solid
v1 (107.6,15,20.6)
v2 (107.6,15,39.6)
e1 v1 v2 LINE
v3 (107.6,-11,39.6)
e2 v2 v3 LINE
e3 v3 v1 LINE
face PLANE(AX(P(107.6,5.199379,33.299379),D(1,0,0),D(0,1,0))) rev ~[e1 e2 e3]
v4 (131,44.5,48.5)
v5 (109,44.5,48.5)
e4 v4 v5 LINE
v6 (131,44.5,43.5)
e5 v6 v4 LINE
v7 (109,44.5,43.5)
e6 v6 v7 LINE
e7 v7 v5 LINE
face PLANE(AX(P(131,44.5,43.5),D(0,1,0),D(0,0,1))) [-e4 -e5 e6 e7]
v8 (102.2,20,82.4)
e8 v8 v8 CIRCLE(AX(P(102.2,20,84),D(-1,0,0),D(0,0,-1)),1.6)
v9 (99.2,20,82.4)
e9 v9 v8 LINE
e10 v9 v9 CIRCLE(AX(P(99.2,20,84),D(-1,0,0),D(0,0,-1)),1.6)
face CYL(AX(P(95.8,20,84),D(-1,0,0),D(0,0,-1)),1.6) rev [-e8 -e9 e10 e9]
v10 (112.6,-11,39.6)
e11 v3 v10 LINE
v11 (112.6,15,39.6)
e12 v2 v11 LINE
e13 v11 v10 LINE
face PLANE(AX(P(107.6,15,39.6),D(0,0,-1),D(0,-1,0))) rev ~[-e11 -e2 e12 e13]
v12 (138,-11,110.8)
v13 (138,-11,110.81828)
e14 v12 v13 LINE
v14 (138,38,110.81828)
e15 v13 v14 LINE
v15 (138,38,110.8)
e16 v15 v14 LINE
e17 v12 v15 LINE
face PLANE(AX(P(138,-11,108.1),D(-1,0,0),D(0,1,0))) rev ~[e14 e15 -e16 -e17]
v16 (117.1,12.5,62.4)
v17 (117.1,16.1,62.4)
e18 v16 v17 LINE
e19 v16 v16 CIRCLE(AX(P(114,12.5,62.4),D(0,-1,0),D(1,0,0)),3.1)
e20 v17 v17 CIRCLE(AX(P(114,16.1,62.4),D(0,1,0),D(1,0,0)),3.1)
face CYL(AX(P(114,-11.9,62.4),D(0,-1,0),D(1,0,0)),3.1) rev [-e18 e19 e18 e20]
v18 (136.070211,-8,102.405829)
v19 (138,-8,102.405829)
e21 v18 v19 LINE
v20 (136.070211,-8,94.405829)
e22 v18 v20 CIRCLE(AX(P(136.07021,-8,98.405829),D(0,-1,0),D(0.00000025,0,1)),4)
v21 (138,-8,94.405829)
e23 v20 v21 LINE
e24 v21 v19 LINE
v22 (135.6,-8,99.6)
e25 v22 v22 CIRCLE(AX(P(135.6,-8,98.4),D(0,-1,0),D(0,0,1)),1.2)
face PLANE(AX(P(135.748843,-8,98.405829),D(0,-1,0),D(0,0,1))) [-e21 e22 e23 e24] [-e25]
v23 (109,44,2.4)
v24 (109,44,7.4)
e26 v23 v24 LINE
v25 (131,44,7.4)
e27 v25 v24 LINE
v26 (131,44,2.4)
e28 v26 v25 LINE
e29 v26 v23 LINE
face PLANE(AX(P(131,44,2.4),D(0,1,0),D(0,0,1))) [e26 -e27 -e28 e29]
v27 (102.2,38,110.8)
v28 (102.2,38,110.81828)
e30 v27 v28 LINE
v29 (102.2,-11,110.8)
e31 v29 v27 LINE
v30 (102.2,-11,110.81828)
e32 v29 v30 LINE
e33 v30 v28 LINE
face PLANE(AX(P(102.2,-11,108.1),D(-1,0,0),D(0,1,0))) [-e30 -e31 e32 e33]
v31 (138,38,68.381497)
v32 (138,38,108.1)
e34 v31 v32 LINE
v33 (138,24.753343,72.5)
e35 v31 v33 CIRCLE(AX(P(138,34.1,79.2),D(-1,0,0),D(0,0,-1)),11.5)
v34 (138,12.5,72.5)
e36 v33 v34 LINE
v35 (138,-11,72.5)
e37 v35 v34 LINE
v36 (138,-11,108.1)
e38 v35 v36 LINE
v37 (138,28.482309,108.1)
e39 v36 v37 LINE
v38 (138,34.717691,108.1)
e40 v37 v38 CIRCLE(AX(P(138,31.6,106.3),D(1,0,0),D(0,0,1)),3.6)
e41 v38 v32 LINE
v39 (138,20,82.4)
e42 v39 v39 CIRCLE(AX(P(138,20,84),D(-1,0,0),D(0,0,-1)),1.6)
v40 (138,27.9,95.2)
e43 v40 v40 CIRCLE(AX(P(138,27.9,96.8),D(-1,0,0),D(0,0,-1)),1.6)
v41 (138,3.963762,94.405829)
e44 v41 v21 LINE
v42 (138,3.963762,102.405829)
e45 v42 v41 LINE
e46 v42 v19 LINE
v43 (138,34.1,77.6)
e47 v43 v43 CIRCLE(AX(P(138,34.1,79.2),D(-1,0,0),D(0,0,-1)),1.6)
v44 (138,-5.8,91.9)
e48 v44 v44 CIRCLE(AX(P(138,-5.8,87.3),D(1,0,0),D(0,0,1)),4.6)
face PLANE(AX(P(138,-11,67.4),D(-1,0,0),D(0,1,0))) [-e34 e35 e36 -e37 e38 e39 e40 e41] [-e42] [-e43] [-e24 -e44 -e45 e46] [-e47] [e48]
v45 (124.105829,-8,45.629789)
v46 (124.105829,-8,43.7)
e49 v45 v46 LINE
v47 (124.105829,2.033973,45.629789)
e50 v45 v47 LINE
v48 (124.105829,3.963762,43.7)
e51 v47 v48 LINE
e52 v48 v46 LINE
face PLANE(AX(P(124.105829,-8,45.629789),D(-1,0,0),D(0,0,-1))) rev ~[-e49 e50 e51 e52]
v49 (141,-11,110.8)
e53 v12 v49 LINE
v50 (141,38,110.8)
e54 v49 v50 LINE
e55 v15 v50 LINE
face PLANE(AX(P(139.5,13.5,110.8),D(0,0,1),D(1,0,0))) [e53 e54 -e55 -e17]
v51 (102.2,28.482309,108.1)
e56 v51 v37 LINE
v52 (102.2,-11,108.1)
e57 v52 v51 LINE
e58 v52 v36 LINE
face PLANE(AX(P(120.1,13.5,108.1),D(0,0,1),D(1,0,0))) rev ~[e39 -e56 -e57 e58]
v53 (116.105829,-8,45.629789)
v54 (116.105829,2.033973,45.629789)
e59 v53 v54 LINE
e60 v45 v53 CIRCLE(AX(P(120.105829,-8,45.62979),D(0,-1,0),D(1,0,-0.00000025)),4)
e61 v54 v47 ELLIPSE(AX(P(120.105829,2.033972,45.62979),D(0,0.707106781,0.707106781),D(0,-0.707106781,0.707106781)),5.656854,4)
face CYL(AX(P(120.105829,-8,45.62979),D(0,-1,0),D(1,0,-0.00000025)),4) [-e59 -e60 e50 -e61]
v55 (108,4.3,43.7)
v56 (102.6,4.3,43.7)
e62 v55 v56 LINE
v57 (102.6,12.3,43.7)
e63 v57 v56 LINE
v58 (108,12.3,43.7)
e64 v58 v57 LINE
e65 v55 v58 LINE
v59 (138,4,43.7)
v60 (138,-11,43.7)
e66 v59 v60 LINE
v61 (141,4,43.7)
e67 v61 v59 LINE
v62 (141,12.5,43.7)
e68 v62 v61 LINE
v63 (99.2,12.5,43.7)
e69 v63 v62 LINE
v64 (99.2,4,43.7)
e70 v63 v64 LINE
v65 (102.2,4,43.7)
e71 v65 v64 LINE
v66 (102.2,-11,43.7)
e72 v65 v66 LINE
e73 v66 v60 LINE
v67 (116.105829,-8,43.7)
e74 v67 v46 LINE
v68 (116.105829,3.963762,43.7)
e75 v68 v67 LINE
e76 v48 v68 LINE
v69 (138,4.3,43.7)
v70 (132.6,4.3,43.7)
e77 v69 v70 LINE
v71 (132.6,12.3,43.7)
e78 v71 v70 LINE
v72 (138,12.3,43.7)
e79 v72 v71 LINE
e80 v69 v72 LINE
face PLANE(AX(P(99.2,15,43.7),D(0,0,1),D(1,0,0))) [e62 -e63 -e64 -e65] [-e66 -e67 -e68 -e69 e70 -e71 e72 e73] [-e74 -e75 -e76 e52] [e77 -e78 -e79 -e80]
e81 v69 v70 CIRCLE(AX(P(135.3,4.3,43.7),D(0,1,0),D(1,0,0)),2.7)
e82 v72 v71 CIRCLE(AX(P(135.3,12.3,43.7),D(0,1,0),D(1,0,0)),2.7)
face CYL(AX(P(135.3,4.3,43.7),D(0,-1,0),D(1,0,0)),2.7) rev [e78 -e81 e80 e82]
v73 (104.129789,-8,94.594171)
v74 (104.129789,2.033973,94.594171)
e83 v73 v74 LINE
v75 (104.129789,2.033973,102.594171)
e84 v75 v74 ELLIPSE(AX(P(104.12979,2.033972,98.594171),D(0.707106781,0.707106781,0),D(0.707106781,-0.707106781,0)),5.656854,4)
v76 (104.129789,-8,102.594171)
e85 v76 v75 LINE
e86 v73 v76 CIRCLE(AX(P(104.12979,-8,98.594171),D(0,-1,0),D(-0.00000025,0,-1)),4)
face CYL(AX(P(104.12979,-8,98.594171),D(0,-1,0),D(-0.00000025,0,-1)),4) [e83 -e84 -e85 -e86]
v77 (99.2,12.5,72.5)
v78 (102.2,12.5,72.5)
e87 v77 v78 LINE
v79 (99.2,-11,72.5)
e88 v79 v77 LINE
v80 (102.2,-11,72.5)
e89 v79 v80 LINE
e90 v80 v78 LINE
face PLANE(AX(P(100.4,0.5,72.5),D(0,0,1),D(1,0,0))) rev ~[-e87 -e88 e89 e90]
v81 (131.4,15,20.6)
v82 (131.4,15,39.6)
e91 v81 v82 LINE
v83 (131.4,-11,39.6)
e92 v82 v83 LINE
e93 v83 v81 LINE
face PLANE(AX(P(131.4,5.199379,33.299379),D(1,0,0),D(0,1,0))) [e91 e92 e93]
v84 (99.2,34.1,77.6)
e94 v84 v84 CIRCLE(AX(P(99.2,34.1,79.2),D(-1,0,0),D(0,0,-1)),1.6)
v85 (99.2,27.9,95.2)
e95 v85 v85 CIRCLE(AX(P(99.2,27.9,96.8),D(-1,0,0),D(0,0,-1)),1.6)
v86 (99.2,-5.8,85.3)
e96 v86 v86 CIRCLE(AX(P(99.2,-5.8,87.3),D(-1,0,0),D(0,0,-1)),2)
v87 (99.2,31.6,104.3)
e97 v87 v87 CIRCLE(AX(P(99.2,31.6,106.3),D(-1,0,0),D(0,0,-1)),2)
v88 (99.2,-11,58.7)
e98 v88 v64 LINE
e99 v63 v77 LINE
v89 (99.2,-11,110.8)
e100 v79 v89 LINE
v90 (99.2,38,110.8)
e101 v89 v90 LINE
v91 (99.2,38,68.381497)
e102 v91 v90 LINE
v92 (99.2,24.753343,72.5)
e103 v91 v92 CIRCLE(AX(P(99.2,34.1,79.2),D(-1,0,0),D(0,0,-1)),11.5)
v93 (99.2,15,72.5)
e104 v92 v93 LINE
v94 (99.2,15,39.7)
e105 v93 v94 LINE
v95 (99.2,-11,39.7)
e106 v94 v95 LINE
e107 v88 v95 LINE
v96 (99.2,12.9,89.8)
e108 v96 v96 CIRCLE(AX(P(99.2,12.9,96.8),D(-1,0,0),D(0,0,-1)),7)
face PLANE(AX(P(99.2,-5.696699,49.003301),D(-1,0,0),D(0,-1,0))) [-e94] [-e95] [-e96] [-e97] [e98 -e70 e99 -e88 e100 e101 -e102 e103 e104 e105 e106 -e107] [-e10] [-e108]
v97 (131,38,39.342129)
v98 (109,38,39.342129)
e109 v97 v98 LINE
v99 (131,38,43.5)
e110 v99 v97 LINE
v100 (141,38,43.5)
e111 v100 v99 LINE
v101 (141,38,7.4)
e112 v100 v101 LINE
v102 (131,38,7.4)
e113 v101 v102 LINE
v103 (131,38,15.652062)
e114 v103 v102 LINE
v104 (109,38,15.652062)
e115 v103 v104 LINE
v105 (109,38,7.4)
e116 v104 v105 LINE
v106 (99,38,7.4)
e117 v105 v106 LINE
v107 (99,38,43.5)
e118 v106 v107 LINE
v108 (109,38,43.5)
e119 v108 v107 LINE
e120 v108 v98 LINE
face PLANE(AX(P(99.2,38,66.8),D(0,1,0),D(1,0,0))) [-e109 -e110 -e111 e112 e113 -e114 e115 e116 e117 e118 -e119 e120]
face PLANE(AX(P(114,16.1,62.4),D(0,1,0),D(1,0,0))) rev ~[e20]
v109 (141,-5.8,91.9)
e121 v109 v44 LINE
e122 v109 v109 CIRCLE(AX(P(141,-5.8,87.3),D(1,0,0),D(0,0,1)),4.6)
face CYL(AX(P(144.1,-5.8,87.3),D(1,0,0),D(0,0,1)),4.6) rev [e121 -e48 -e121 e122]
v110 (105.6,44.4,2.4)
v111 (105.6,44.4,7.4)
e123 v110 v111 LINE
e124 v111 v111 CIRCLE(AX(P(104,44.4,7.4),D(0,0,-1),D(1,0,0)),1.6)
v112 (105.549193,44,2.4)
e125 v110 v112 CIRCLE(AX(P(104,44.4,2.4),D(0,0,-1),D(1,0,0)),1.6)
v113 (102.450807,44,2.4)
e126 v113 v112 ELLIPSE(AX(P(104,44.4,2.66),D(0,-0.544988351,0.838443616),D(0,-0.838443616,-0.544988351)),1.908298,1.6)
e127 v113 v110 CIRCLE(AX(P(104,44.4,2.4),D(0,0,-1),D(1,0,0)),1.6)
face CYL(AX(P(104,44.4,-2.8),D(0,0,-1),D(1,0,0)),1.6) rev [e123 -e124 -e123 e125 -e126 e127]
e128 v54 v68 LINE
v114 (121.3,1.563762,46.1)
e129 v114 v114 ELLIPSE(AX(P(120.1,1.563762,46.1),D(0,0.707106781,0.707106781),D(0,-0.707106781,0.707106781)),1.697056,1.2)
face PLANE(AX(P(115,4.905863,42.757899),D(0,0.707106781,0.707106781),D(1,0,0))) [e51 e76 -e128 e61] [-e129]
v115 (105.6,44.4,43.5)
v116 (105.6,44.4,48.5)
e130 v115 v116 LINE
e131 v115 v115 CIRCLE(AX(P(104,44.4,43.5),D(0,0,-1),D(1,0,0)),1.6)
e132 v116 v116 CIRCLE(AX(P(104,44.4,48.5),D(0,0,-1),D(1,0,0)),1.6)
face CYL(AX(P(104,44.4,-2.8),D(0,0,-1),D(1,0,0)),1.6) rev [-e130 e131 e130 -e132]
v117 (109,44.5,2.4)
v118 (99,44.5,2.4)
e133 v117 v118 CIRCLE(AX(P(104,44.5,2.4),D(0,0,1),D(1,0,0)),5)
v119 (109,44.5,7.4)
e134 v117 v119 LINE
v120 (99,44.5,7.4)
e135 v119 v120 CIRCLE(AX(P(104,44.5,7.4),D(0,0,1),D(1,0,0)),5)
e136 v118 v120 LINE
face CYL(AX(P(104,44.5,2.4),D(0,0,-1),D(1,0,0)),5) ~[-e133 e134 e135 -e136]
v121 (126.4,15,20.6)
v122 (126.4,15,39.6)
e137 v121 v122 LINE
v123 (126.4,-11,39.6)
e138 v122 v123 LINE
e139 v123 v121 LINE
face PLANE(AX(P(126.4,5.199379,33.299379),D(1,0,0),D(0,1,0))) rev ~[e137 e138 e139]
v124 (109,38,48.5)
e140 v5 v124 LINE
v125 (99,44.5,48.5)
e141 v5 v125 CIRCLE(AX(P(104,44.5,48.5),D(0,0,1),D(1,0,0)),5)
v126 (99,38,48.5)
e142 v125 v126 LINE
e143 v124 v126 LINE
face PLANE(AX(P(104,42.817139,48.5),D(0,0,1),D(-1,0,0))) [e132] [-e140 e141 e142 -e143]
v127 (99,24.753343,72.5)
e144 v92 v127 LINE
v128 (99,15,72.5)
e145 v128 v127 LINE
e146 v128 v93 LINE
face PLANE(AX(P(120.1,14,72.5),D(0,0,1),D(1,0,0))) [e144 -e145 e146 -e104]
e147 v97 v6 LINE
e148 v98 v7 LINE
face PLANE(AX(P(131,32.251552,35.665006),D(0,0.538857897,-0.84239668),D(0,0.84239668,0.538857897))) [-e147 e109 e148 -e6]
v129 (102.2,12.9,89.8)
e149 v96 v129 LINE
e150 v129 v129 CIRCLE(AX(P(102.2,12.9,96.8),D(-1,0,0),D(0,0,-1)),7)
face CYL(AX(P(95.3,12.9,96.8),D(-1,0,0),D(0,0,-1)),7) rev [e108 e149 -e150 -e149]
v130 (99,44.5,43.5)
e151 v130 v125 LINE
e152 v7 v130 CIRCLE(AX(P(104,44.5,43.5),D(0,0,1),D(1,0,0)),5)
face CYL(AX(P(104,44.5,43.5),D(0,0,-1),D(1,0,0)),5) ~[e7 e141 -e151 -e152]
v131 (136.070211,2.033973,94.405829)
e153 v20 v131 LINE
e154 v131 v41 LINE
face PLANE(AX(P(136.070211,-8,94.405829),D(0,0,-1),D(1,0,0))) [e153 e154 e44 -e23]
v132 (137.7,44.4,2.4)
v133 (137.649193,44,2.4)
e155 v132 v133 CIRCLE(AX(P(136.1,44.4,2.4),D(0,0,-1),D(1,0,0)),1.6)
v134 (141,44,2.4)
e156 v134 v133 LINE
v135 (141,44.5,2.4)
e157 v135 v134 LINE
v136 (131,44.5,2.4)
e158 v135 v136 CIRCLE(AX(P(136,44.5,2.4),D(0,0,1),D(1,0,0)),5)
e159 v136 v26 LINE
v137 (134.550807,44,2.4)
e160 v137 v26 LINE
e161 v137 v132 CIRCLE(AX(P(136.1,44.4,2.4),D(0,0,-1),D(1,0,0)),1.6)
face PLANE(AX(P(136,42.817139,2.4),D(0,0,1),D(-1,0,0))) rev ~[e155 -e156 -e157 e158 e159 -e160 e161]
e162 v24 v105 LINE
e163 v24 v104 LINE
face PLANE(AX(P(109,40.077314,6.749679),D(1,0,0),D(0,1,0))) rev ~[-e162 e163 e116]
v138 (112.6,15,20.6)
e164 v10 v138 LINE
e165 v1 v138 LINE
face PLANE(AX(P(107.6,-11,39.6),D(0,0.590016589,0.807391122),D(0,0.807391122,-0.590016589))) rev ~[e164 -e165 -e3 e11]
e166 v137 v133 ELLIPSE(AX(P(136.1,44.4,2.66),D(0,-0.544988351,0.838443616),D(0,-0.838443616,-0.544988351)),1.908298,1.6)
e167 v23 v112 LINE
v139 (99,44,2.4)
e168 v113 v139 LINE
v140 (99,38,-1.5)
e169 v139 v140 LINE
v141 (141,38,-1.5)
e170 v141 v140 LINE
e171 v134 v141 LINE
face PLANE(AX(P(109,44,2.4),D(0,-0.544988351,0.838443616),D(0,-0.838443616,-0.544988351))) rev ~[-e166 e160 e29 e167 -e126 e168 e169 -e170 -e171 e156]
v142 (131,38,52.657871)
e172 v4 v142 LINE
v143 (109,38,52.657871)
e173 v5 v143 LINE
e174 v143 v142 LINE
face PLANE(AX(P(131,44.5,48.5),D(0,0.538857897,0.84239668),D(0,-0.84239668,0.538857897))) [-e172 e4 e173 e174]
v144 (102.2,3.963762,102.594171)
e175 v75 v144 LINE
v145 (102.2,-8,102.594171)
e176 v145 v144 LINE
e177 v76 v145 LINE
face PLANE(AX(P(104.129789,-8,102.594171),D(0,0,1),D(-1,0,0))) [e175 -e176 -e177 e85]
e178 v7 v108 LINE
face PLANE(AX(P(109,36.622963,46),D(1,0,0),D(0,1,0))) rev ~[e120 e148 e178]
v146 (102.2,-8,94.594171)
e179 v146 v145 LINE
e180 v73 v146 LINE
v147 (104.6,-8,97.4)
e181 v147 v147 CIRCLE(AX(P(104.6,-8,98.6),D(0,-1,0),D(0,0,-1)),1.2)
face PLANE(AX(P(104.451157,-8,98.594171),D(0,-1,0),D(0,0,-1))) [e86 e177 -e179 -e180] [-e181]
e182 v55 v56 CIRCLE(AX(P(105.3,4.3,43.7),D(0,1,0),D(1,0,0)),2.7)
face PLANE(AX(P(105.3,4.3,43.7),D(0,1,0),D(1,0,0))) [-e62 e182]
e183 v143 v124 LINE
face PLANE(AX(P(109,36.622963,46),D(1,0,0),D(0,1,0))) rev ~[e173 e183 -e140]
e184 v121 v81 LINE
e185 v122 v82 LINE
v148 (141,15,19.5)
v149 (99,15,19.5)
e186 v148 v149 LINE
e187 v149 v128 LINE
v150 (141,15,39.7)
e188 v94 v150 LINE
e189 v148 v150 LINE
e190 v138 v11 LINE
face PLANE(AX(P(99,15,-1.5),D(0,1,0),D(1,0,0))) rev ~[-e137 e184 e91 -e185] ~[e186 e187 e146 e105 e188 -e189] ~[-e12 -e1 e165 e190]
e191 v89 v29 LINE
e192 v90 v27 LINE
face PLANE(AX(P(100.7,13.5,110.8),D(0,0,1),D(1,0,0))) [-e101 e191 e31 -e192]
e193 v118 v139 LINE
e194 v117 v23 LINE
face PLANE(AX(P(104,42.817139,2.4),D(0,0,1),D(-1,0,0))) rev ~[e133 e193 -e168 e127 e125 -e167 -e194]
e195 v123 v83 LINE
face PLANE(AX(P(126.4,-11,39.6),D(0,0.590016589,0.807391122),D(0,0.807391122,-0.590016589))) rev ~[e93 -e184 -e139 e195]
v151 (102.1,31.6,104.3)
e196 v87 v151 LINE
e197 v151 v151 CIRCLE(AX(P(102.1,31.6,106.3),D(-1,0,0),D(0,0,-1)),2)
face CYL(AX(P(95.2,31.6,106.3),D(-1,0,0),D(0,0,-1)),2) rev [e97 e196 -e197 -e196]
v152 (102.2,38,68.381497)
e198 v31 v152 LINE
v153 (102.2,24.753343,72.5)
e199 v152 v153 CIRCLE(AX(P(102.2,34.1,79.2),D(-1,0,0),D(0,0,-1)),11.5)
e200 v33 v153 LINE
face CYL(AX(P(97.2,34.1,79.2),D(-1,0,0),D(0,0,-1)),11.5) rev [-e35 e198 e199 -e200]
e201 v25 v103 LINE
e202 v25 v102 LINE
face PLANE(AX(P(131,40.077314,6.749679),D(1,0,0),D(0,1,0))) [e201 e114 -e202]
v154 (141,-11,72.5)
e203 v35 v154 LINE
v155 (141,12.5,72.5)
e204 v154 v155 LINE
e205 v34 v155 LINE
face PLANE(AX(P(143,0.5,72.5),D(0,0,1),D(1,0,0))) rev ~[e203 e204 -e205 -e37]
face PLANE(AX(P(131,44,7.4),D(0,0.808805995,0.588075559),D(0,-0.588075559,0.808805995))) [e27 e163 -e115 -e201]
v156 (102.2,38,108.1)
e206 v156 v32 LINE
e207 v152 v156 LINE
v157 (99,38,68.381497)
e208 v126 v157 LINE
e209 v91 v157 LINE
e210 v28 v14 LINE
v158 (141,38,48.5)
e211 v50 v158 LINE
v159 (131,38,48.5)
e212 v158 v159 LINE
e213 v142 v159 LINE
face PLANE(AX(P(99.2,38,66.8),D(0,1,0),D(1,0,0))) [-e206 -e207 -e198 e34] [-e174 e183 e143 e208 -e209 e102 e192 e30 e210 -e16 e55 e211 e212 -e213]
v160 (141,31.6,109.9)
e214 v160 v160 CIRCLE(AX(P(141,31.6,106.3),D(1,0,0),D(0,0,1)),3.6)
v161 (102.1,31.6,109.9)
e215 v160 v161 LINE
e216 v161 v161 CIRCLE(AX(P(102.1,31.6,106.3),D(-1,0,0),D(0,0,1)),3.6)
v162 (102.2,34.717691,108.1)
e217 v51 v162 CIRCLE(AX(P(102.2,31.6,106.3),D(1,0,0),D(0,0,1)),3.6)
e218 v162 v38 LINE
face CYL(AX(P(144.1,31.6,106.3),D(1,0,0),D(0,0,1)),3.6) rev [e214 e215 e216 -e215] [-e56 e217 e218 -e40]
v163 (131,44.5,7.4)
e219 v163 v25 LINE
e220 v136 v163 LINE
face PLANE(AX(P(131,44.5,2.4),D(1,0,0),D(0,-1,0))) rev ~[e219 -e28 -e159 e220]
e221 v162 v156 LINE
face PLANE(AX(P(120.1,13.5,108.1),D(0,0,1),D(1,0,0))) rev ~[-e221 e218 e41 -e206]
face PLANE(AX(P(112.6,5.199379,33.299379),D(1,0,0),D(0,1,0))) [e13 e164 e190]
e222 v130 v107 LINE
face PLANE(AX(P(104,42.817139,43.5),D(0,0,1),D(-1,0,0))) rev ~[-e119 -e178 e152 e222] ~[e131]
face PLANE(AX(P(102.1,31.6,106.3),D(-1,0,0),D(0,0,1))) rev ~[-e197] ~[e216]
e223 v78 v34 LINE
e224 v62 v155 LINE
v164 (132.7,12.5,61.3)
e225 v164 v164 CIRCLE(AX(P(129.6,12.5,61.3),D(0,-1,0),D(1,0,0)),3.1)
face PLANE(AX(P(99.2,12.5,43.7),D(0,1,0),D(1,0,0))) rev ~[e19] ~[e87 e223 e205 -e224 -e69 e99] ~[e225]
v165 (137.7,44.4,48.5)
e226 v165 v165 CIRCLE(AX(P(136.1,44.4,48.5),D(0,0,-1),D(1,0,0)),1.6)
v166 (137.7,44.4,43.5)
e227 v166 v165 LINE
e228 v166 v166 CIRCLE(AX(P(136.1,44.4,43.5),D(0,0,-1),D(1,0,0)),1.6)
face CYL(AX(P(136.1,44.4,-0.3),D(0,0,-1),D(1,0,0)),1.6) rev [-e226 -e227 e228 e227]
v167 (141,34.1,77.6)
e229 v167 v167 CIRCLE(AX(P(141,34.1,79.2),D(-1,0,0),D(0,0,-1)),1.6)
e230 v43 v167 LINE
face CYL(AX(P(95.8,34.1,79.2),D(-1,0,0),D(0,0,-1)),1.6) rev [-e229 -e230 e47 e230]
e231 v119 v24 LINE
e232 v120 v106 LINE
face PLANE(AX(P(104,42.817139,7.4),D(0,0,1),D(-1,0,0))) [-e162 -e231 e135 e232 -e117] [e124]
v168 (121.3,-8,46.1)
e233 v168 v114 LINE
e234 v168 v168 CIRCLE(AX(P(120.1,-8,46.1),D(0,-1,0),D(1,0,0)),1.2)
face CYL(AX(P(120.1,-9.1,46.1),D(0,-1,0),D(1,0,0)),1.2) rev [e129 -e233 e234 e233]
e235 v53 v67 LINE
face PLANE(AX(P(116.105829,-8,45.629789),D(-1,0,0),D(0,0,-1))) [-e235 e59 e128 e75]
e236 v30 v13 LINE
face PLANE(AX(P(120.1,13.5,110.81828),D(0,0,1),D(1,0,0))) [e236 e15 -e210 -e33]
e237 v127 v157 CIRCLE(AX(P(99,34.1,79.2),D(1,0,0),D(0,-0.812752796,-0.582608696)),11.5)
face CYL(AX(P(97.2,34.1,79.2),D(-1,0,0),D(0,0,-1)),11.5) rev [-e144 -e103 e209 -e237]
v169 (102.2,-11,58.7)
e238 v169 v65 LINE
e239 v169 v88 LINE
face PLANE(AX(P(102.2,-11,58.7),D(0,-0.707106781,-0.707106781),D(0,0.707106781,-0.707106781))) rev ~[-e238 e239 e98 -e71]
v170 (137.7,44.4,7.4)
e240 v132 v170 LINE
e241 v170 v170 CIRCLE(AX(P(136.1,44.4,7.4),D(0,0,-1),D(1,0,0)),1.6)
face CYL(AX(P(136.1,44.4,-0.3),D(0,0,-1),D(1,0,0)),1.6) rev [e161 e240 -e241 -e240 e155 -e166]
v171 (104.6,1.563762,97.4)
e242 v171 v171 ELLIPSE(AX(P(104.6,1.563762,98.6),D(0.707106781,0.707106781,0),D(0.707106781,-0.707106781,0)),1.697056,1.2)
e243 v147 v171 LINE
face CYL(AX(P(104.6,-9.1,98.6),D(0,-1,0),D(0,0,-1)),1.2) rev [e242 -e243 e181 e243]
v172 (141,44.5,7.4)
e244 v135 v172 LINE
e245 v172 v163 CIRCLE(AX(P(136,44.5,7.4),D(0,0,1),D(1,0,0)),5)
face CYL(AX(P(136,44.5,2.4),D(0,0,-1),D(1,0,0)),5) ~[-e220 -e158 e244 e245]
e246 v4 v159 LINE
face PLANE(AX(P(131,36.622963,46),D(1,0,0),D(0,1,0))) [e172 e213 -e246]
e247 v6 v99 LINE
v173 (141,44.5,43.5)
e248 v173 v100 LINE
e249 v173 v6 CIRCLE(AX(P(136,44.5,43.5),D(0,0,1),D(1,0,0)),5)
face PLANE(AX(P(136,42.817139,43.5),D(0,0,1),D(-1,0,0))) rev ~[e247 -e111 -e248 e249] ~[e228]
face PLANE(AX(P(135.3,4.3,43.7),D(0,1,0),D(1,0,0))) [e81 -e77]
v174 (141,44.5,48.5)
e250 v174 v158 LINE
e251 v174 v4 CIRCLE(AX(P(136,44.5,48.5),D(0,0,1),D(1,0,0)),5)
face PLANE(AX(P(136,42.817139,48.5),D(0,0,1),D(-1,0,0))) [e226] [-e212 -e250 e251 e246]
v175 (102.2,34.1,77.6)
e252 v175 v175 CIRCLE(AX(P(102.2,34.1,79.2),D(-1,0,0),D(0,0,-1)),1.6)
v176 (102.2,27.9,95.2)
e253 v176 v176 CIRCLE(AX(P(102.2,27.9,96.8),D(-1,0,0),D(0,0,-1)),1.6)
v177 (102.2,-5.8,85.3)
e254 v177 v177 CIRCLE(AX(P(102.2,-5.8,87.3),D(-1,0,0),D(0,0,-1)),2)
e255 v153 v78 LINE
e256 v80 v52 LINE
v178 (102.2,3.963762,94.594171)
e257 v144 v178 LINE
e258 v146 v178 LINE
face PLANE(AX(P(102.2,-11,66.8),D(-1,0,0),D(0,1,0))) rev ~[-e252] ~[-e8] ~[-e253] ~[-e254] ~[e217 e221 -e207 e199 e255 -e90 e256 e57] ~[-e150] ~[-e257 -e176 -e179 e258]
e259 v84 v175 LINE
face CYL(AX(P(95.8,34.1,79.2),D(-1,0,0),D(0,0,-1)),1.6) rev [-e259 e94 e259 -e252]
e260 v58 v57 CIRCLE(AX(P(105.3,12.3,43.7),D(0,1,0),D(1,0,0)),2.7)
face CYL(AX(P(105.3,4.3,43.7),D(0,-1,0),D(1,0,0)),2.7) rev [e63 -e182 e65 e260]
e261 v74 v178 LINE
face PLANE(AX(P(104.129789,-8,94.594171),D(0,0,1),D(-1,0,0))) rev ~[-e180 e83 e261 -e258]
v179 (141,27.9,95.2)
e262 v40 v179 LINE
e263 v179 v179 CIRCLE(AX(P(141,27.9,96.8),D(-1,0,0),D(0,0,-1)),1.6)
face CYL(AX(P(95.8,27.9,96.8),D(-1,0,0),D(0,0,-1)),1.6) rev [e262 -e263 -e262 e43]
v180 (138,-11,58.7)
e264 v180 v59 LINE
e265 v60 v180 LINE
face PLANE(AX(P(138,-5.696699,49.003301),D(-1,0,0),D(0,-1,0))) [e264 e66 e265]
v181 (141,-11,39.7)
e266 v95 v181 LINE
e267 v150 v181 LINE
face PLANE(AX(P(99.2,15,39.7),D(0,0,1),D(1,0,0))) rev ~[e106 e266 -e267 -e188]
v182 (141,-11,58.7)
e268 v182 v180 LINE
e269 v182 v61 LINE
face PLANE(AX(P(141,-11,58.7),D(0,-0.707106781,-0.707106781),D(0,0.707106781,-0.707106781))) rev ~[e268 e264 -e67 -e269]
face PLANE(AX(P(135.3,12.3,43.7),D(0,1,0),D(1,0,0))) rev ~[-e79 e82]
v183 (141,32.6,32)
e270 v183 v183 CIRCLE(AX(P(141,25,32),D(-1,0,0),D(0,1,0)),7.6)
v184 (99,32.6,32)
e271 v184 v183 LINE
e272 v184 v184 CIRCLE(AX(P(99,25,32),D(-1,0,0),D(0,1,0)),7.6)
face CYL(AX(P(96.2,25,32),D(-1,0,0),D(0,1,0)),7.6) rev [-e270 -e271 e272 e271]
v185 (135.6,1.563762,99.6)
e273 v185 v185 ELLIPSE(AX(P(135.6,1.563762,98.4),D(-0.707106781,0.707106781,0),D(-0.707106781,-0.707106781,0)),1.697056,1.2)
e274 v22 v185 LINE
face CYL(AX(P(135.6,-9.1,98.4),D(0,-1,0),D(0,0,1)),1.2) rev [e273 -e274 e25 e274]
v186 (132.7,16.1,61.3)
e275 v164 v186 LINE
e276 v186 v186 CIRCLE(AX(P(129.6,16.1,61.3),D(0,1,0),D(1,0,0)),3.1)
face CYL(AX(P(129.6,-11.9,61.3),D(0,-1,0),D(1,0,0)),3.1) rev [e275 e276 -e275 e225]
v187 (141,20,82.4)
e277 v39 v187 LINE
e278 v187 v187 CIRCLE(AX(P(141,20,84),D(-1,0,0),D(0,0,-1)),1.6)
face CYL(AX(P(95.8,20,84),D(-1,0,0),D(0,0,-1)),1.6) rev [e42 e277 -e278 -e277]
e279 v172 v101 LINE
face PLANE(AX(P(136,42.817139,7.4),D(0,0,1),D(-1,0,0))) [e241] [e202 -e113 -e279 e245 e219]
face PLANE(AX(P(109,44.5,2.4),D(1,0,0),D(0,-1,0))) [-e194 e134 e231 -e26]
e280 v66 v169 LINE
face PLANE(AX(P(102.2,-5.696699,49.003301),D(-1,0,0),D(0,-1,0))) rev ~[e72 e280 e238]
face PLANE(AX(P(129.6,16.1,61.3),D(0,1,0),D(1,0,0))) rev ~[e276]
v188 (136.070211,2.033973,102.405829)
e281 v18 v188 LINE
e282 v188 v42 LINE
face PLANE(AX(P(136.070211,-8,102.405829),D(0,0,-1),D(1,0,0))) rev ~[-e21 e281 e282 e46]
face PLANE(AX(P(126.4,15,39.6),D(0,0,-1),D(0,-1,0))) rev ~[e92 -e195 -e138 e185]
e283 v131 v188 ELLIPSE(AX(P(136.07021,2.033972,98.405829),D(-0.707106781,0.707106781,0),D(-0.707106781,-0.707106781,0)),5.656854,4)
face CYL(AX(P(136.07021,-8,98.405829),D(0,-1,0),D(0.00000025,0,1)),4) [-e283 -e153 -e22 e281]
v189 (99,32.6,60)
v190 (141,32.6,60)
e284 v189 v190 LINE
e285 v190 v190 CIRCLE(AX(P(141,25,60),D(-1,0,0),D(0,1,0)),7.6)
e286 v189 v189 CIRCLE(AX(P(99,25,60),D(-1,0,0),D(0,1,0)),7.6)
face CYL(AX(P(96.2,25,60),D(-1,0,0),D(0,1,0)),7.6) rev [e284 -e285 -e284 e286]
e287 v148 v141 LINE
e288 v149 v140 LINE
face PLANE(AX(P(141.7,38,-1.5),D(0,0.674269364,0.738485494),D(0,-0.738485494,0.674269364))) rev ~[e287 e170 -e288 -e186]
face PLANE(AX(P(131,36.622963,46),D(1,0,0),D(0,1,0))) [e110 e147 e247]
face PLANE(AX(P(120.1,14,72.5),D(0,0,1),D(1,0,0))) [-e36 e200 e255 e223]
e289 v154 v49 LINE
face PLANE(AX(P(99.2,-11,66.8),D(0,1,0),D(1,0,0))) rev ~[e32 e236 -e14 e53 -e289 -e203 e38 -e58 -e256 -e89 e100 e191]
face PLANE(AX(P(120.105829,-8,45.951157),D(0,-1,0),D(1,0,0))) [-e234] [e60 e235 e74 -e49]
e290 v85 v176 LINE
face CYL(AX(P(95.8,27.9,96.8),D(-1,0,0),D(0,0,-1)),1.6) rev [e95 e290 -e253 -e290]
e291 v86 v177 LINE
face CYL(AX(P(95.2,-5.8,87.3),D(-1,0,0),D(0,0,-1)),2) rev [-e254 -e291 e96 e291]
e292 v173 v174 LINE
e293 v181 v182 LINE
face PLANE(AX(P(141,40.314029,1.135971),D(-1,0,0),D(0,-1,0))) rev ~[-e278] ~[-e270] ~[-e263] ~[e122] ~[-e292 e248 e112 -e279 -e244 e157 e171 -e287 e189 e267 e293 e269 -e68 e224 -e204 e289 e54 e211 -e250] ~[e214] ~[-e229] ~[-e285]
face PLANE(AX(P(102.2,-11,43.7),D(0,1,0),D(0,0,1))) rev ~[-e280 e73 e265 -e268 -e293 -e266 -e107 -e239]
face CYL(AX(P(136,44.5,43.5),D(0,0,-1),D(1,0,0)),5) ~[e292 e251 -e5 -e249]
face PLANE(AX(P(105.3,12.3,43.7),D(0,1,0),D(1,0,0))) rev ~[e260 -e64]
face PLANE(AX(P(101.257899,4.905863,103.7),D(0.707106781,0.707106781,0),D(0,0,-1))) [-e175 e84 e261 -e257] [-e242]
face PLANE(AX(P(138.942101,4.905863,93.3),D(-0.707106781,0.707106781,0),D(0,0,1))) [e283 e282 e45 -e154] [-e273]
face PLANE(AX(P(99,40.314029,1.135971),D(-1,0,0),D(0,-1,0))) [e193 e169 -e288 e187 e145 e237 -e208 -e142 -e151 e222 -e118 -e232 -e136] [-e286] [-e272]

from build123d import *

# Parameters (mm, degrees)
CYLINDER168_R              = 1.6
CYLINDER168_DEPTH          = 90
CYLINDER167_R              = 1.6
CYLINDER167_DEPTH          = 90
CYLINDER109_R              = 7.6
CYLINDER109_DEPTH          = 45
CYLINDER182_R              = 3.1
CYLINDER182_DEPTH          = 28
CYLINDER203_R              = 3.1
CYLINDER203_DEPTH          = 28
CYLINDER213_R              = 4.6
CYLINDER213_DEPTH          = 10
CYLINDER184_R              = 3.6
CYLINDER184_DEPTH          = 42
CYLINDER212_R              = 7
CYLINDER212_DEPTH          = 10
CYLINDER211_R              = 2
CYLINDER211_DEPTH          = 10
CYLINDER210_R              = 2
CYLINDER210_DEPTH          = 10
CYLINDER209_R              = 1.6
CYLINDER209_DEPTH          = 53
CYLINDER196_R              = 1.6
CYLINDER196_DEPTH          = 53
CYLINDER198_R              = 1.6
CYLINDER198_DEPTH          = 53
CYLINDER110_R              = 7.6
CYLINDER110_DEPTH          = 45
CYLINDER204_R              = 1.2
CYLINDER204_DEPTH          = 15
BOX086_W                   = 10
BOX086_H                   = 10
BOX086_DEPTH               = 10
BOX086_PLACEMENT_ANGLE     = 45
EXTRUDE079_DEPTH           = 12
CUT241_PLACEMENT_ANGLE     = 90
CYLINDER206_R              = 1.2
CYLINDER206_DEPTH          = 15
BOX088_W                   = 10
BOX088_H                   = 10
BOX088_DEPTH               = 10
BOX088_PLACEMENT_ANGLE     = 45
EXTRUDE081_DEPTH           = 12
CUT245_PLACEMENT_ANGLE     = 90
CYLINDER205_R              = 1.2
CYLINDER205_DEPTH          = 15
BOX087_W                   = 10
BOX087_H                   = 10
BOX087_DEPTH               = 10
BOX087_PLACEMENT_ANGLE     = 45
EXTRUDE080_DEPTH           = 12
CYLINDER200_R              = 2.7
CYLINDER200_DEPTH          = 8
CYLINDER108_R              = 2.7
CYLINDER108_DEPTH          = 8
EXTRUDE069_DEPTH           = 5
EXTRUDE069_PLACEMENT_ANGLE = 180
EXTRUDE078_DEPTH           = 22
EXTRUDE071_DEPTH           = 5
EXTRUDE071_PLACEMENT_ANGLE = 180
EXTRUDE068_DEPTH           = 5
EXTRUDE068_PLACEMENT_ANGLE = 180
EXTRUDE072_DEPTH           = 22
EXTRUDE070_DEPTH           = 5
EXTRUDE070_PLACEMENT_ANGLE = 180
EXTRUDE077_DEPTH           = 10
EXTRUDE076_DEPTH           = 10
BOX083_W                   = 41.8
BOX083_H                   = 3
BOX083_DEPTH               = 28.8
EXTRUDE033_DEPTH           = 5
BOX077_W                   = 41.8
BOX077_H                   = 4
BOX077_DEPTH               = 26
EXTRUDE074_DEPTH           = 3
BOX085_W                   = 10
BOX085_H                   = 24
BOX085_DEPTH               = 12
BOX080_W                   = 3
BOX080_H                   = 49
BOX080_DEPTH               = 43.4
BOX082_W                   = 35.8
BOX082_H                   = 49
BOX082_DEPTH               = 2.71828
BOX084_W                   = 10
BOX084_H                   = 24
BOX084_DEPTH               = 12
BOX079_W                   = 3
BOX079_H                   = 49
BOX079_DEPTH               = 44
EXTRUDE032_DEPTH           = 5
EXTRUDE073_DEPTH           = 3
EXTRUDE075_DEPTH           = 45
CYLINDER148_R              = 11.5
CYLINDER148_DEPTH          = 44
BOX_W                      = 42
BOX_H                      = 23
BOX_DEPTH                  = 74


with BuildPart() as cylinder168:
    # Cylinder168 → Cylinder168 (new body)
    with BuildSketch(Plane(origin=(104, 44.4, -2.8), x_dir=(1, 0, 0), z_dir=(0, 0, 1))):
        Circle(CYLINDER168_R)
    extrude(amount=CYLINDER168_DEPTH)


with BuildPart() as cylinder167:
    # Cylinder167 → Cylinder167 (new body)
    with BuildSketch(Plane(origin=(136.1, 44.4, -0.3), x_dir=(1, 0, 0), z_dir=(0, 0, 1))):
        Circle(CYLINDER167_R)
    extrude(amount=CYLINDER167_DEPTH)


with BuildPart() as cylinder109:
    # Cylinder109 → Cylinder109 (new body)
    with BuildSketch(Plane(origin=(96.2, 25, 32), x_dir=(0, 1, 0), z_dir=(1, 0, 0))):
        Circle(CYLINDER109_R)
    extrude(amount=CYLINDER109_DEPTH)


with BuildPart() as cylinder182:
    # Cylinder182 → Cylinder182 (new body)
    with BuildSketch(Plane(origin=(114, -11.9, 62.4), x_dir=(1, 0, 0), z_dir=(0, 1, 0))):
        Circle(CYLINDER182_R)
    extrude(amount=CYLINDER182_DEPTH)


with BuildPart() as cylinder203:
    # Cylinder203 → Cylinder203 (new body)
    with BuildSketch(Plane(origin=(129.6, -11.9, 61.3), x_dir=(1, 0, 0), z_dir=(0, 1, 0))):
        Circle(CYLINDER203_R)
    extrude(amount=CYLINDER203_DEPTH)


with BuildPart() as cylinder213:
    # Cylinder213 → Cylinder213 (new body)
    with BuildSketch(Plane(origin=(144.1, -5.8, 87.3), x_dir=(0, 0, 1), z_dir=(-1, 0, 0))):
        Circle(CYLINDER213_R)
    extrude(amount=CYLINDER213_DEPTH)


with BuildPart() as cylinder184:
    # Cylinder184 → Cylinder184 (new body)
    with BuildSketch(Plane(origin=(144.1, 31.6, 106.3), x_dir=(0, 0, 1), z_dir=(-1, 0, 0))):
        Circle(CYLINDER184_R)
    extrude(amount=CYLINDER184_DEPTH)


with BuildPart() as cylinder212:
    # Cylinder212 → Cylinder212 (new body)
    with BuildSketch(Plane(origin=(95.3, 12.9, 96.8), x_dir=(0, 0, -1), z_dir=(1, 0, 0))):
        Circle(CYLINDER212_R)
    extrude(amount=CYLINDER212_DEPTH)


with BuildPart() as cylinder211:
    # Cylinder211 → Cylinder211 (new body)
    with BuildSketch(Plane(origin=(95.2, 31.6, 106.3), x_dir=(0, 0, -1), z_dir=(1, 0, 0))):
        Circle(CYLINDER211_R)
    extrude(amount=CYLINDER211_DEPTH)


with BuildPart() as cylinder210:
    # Cylinder210 → Cylinder210 (new body)
    with BuildSketch(Plane(origin=(95.2, -5.8, 87.3), x_dir=(0, 0, -1), z_dir=(1, 0, 0))):
        Circle(CYLINDER210_R)
    extrude(amount=CYLINDER210_DEPTH)


with BuildPart() as cylinder209:
    # Cylinder209 → Cylinder209 (new body)
    with BuildSketch(Plane(origin=(95.8, 34.1, 79.2), x_dir=(0, 0, -1), z_dir=(1, 0, 0))):
        Circle(CYLINDER209_R)
    extrude(amount=CYLINDER209_DEPTH)


with BuildPart() as cylinder196:
    # Cylinder196 → Cylinder196 (new body)
    with BuildSketch(Plane(origin=(95.8, 27.9, 96.8), x_dir=(0, 0, -1), z_dir=(1, 0, 0))):
        Circle(CYLINDER196_R)
    extrude(amount=CYLINDER196_DEPTH)


with BuildPart() as cylinder198:
    # Cylinder198 → Cylinder198 (new body)
    with BuildSketch(Plane(origin=(95.8, 20, 84), x_dir=(0, 0, -1), z_dir=(1, 0, 0))):
        Circle(CYLINDER198_R)
    extrude(amount=CYLINDER198_DEPTH)


with BuildPart() as cylinder110:
    # Cylinder110 → Cylinder110 (new body)
    with BuildSketch(Plane(origin=(96.2, 25, 60), x_dir=(0, 1, 0), z_dir=(1, 0, 0))):
        Circle(CYLINDER110_R)
    extrude(amount=CYLINDER110_DEPTH)


with BuildPart() as cylinder204:
    # Cylinder204 → Cylinder204 (new body)
    with BuildSketch(Plane(origin=(120.1, -9.1, 46.1), x_dir=(1, 0, 0), z_dir=(0, 1, 0))):
        Circle(CYLINDER204_R)
    extrude(amount=CYLINDER204_DEPTH)


with BuildPart() as box086:
    # Box086 → Box086 (new body)
    with BuildSketch(Plane.XY):
        with Locations((5, 5)):
            Rectangle(BOX086_W, BOX086_H)
    extrude(amount=BOX086_DEPTH)


with BuildPart() as box086_1:
    # Box086 placement: moved
    add(box086.part.moved(Location((115, 4.905863, 42.757899))).rotate(Axis((115, 4.905863, 42.757899), (1, 0, 0)), BOX086_PLACEMENT_ANGLE))


with BuildPart() as cut241:
    # Sketch066 → Extrude079 (new body)
    with BuildSketch(Plane.XZ):
        with BuildLine():
            ThreePointArc((117.105829, 45.629789), (113.105829, 49.62979), (109.105829, 45.629789))
            Line((109.105829, 45.629789), (109.105829, 43.629789))
            Line((109.105829, 43.629789), (117.105829, 43.629789))
            Line((117.105829, 45.629789), (117.105829, 43.629789))
        make_face()
    extrude(amount=-EXTRUDE079_DEPTH)


with BuildPart() as cut241_1:
    # Extrude079 placement: moved
    add(cut241.part.moved(Location((7, -8, 0))))

    # Cut240: cut Box086
    add(box086_1.part, mode=Mode.SUBTRACT)

    # Cut241: cut Cylinder204
    add(cylinder204.part, mode=Mode.SUBTRACT)


with BuildPart() as cut241_2:
    # Cut241 placement: moved
    add(cut241_1.part.moved(Location((181.7, 0, -21.7))).rotate(Axis((181.7, 0, -21.7), (0, -1, 0)), CUT241_PLACEMENT_ANGLE))


with BuildPart() as cylinder206:
    # Cylinder206 → Cylinder206 (new body)
    with BuildSketch(Plane(origin=(120.1, -9.1, 46.1), x_dir=(1, 0, 0), z_dir=(0, 1, 0))):
        Circle(CYLINDER206_R)
    extrude(amount=CYLINDER206_DEPTH)


with BuildPart() as box088:
    # Box088 → Box088 (new body)
    with BuildSketch(Plane.XY):
        with Locations((5, 5)):
            Rectangle(BOX088_W, BOX088_H)
    extrude(amount=BOX088_DEPTH)


with BuildPart() as box088_1:
    # Box088 placement: moved
    add(box088.part.moved(Location((115, 4.905863, 42.757899))).rotate(Axis((115, 4.905863, 42.757899), (1, 0, 0)), BOX088_PLACEMENT_ANGLE))


with BuildPart() as cut245:
    # Sketch068 → Extrude081 (new body)
    with BuildSketch(Plane.XZ):
        with BuildLine():
            ThreePointArc((117.105829, 45.629789), (113.105829, 49.62979), (109.105829, 45.629789))
            Line((109.105829, 45.629789), (109.105829, 43.629789))
            Line((109.105829, 43.629789), (117.105829, 43.629789))
            Line((117.105829, 45.629789), (117.105829, 43.629789))
        make_face()
    extrude(amount=-EXTRUDE081_DEPTH)


with BuildPart() as cut245_1:
    # Extrude081 placement: moved
    add(cut245.part.moved(Location((7, -8, 0))))

    # Cut244: cut Box088
    add(box088_1.part, mode=Mode.SUBTRACT)

    # Cut245: cut Cylinder206
    add(cylinder206.part, mode=Mode.SUBTRACT)


with BuildPart() as cut245_2:
    # Cut245 placement: moved
    add(cut245_1.part.moved(Location((58.5, 0, 218.7))).rotate(Axis((58.5, 0, 218.7), (0, 1, 0)), CUT245_PLACEMENT_ANGLE))


with BuildPart() as cylinder205:
    # Cylinder205 → Cylinder205 (new body)
    with BuildSketch(Plane(origin=(120.1, -9.1, 46.1), x_dir=(1, 0, 0), z_dir=(0, 1, 0))):
        Circle(CYLINDER205_R)
    extrude(amount=CYLINDER205_DEPTH)


with BuildPart() as box087:
    # Box087 → Box087 (new body)
    with BuildSketch(Plane.XY):
        with Locations((5, 5)):
            Rectangle(BOX087_W, BOX087_H)
    extrude(amount=BOX087_DEPTH)


with BuildPart() as box087_1:
    # Box087 placement: moved
    add(box087.part.moved(Location((115, 4.905863, 42.757899))).rotate(Axis((115, 4.905863, 42.757899), (1, 0, 0)), BOX087_PLACEMENT_ANGLE))


with BuildPart() as cut243:
    # Sketch067 → Extrude080 (new body)
    with BuildSketch(Plane.XZ):
        with BuildLine():
            ThreePointArc((117.105829, 45.629789), (113.105829, 49.62979), (109.105829, 45.629789))
            Line((109.105829, 45.629789), (109.105829, 43.629789))
            Line((109.105829, 43.629789), (117.105829, 43.629789))
            Line((117.105829, 45.629789), (117.105829, 43.629789))
        make_face()
    extrude(amount=-EXTRUDE080_DEPTH)


with BuildPart() as cut243_1:
    # Extrude080 placement: moved
    add(cut243.part.moved(Location((7, -8, 0))))

    # Cut242: cut Box087
    add(box087_1.part, mode=Mode.SUBTRACT)

    # Cut243: cut Cylinder205
    add(cylinder205.part, mode=Mode.SUBTRACT)


with BuildPart() as cylinder200:
    # Cylinder200 → Cylinder200 (new body)
    with BuildSketch(Plane(origin=(135.3, 4.3, 43.7), x_dir=(1, 0, 0), z_dir=(0, 1, 0))):
        Circle(CYLINDER200_R)
    extrude(amount=CYLINDER200_DEPTH)


with BuildPart() as cylinder108:
    # Cylinder108 → Cylinder108 (new body)
    with BuildSketch(Plane(origin=(105.3, 4.3, 43.7), x_dir=(1, 0, 0), z_dir=(0, 1, 0))):
        Circle(CYLINDER108_R)
    extrude(amount=CYLINDER108_DEPTH)


with BuildPart() as extrude069:
    # Sketch057 → Extrude069 (new body)
    with BuildSketch(Plane.XY):
        with BuildLine():
            ThreePointArc((94, 83), (99, 78), (104, 83))
            Line((104, 83), (104, 89.5))
            Line((94, 89.5), (104, 89.5))
            Line((94, 83), (94, 89.5))
        make_face()
    extrude(amount=EXTRUDE069_DEPTH)


with BuildPart() as extrude069_1:
    # Extrude069 placement: moved
    add(extrude069.part.moved(Location((235, 127.5, 43.5))).rotate(Axis((235, 127.5, 43.5), (0, 0, 1)), EXTRUDE069_PLACEMENT_ANGLE))


with BuildPart() as extrude078:
    # Sketch065 → Extrude078 (new body)
    with BuildSketch(Plane.YZ):
        Polygon((44.5, 43.5), (44.5, 48.5), (32.251552, 56.334994), (32.251552, 35.665006), align=None)
    extrude(amount=-EXTRUDE078_DEPTH)


with BuildPart() as extrude078_1:
    # Extrude078 placement: moved
    add(extrude078.part.moved(Location((131, 0, 0))))


with BuildPart() as extrude071:
    # Sketch059 → Extrude071 (new body)
    with BuildSketch(Plane.XY):
        with BuildLine():
            ThreePointArc((94, 83), (99, 78), (104, 83))
            Line((104, 83), (104, 89.5))
            Line((94, 89.5), (104, 89.5))
            Line((94, 83), (94, 89.5))
        make_face()
    extrude(amount=EXTRUDE071_DEPTH)


with BuildPart() as extrude071_1:
    # Extrude071 placement: moved
    add(extrude071.part.moved(Location((203, 127.5, 43.5))).rotate(Axis((203, 127.5, 43.5), (0, 0, 1)), EXTRUDE071_PLACEMENT_ANGLE))


with BuildPart() as extrude068:
    # Sketch056 → Extrude068 (new body)
    with BuildSketch(Plane.XY):
        with BuildLine():
            ThreePointArc((94, 83), (99, 78), (104, 83))
            Line((104, 83), (104, 89.5))
            Line((94, 89.5), (104, 89.5))
            Line((94, 83), (94, 89.5))
        make_face()
    extrude(amount=EXTRUDE068_DEPTH)


with BuildPart() as extrude068_1:
    # Extrude068 placement: moved
    add(extrude068.part.moved(Location((203, 127.5, 2.4))).rotate(Axis((203, 127.5, 2.4), (0, 0, 1)), EXTRUDE068_PLACEMENT_ANGLE))


with BuildPart() as extrude072:
    # Sketch → Extrude072 (new body)
    with BuildSketch(Plane.YZ):
        Polygon((44.5, 43.5), (44.5, 48.5), (38.5, 56.752062), (38.5, 39.6), align=None)
    extrude(amount=-EXTRUDE072_DEPTH)


with BuildPart() as extrude072_1:
    # Extrude072 placement: moved
    add(extrude072.part.moved(Location((131, -0.5, -41.1))))


with BuildPart() as extrude070:
    # Sketch058 → Extrude070 (new body)
    with BuildSketch(Plane.XY):
        with BuildLine():
            ThreePointArc((94, 83), (99, 78), (104, 83))
            Line((104, 83), (104, 89.5))
            Line((94, 89.5), (104, 89.5))
            Line((94, 83), (94, 89.5))
        make_face()
    extrude(amount=EXTRUDE070_DEPTH)


with BuildPart() as extrude070_1:
    # Extrude070 placement: moved
    add(extrude070.part.moved(Location((235, 127.5, 2.4))).rotate(Axis((235, 127.5, 2.4), (0, 0, 1)), EXTRUDE070_PLACEMENT_ANGLE))


with BuildPart() as extrude077:
    # Sketch064 → Extrude077 (new body)
    with BuildSketch(Plane.YZ):
        Polygon((38, -1.5), (38, 2.4), (44, 2.4), align=None)
    extrude(amount=-EXTRUDE077_DEPTH)


with BuildPart() as extrude077_1:
    # Extrude077 placement: moved
    add(extrude077.part.moved(Location((141, 0, 0))))


with BuildPart() as extrude076:
    # Sketch063 → Extrude076 (new body)
    with BuildSketch(Plane.YZ):
        Polygon((38, -1.5), (38, 2.4), (44, 2.4), align=None)
    extrude(amount=-EXTRUDE076_DEPTH)


with BuildPart() as extrude076_1:
    # Extrude076 placement: moved
    add(extrude076.part.moved(Location((109, 0, 0))))


with BuildPart() as box083:
    # Box083 → Box083 (new body)
    with BuildSketch(Plane(origin=(99.2, 12.5, 43.7), x_dir=(1, 0, 0), z_dir=(0, 0, 1))):
        with Locations((20.9, 1.5)):
            Rectangle(BOX083_W, BOX083_H)
    extrude(amount=BOX083_DEPTH)


with BuildPart() as extrude033:
    # Sketch026 → Extrude033 (new body)
    with BuildSketch(Plane.YZ):
        Polygon((15, 19), (15, 38), (-11, 38), align=None)
    extrude(amount=EXTRUDE033_DEPTH)


with BuildPart() as extrude033_1:
    # Extrude033 placement: moved
    add(extrude033.part.moved(Location((126.4, 0, 1.6))))


with BuildPart() as box077:
    # Box077 → Box077 (new body)
    with BuildSketch(Plane(origin=(99.2, 15, 39.7), x_dir=(1, 0, 0), z_dir=(0, -1, 0))):
        with Locations((20.9, 2)):
            Rectangle(BOX077_W, BOX077_H)
    extrude(amount=BOX077_DEPTH)


with BuildPart() as extrude074:
    # Sketch061 → Extrude074 (new body)
    with BuildSketch(Plane.YZ):
        Polygon((-11, 43.7), (-11, 58.7), (4, 43.7), align=None)
    extrude(amount=-EXTRUDE074_DEPTH)


with BuildPart() as extrude074_1:
    # Extrude074 placement: moved
    add(extrude074.part.moved(Location((141, 0, 0))))


with BuildPart() as box085:
    # Box085 → Box085 (new body)
    with BuildSketch(Plane(origin=(138, -11.5, 60.5), x_dir=(1, 0, 0), z_dir=(0, 0, 1))):
        with Locations((5, 12)):
            Rectangle(BOX085_W, BOX085_H)
    extrude(amount=BOX085_DEPTH)


with BuildPart() as cut236:
    # Box080 → Box080 (new body)
    with BuildSketch(Plane(origin=(138, -11, 67.4), x_dir=(1, 0, 0), z_dir=(0, 0, 1))):
        with Locations((1.5, 24.5)):
            Rectangle(BOX080_W, BOX080_H)
    extrude(amount=BOX080_DEPTH)

    # Cut236: cut Box085
    add(box085.part, mode=Mode.SUBTRACT)


with BuildPart() as box082:
    # Box082 → Box082 (new body)
    with BuildSketch(Plane(origin=(102.2, -11, 108.1), x_dir=(1, 0, 0), z_dir=(0, 0, 1))):
        with Locations((17.9, 24.5)):
            Rectangle(BOX082_W, BOX082_H)
    extrude(amount=BOX082_DEPTH)


with BuildPart() as box084:
    # Box084 → Box084 (new body)
    with BuildSketch(Plane(origin=(95.4, -11.5, 60.5), x_dir=(1, 0, 0), z_dir=(0, 0, 1))):
        with Locations((5, 12)):
            Rectangle(BOX084_W, BOX084_H)
    extrude(amount=BOX084_DEPTH)


with BuildPart() as cut:
    # Box079 → Box079 (new body)
    with BuildSketch(Plane(origin=(99.2, -11, 66.8), x_dir=(1, 0, 0), z_dir=(0, 0, 1))):
        with Locations((1.5, 24.5)):
            Rectangle(BOX079_W, BOX079_H)
    extrude(amount=BOX079_DEPTH)

    # Cut: cut Box084
    add(box084.part, mode=Mode.SUBTRACT)


with BuildPart() as extrude032:
    # Sketch025 → Extrude032 (new body)
    with BuildSketch(Plane.YZ):
        Polygon((15, 19), (15, 38), (-11, 38), align=None)
    extrude(amount=EXTRUDE032_DEPTH)


with BuildPart() as extrude032_1:
    # Extrude032 placement: moved
    add(extrude032.part.moved(Location((107.6, 0, 1.6))))


with BuildPart() as extrude073:
    # Sketch060 → Extrude073 (new body)
    with BuildSketch(Plane.YZ):
        Polygon((-11, 43.7), (-11, 58.7), (4, 43.7), align=None)
    extrude(amount=-EXTRUDE073_DEPTH)


with BuildPart() as extrude073_1:
    # Extrude073 placement: moved
    add(extrude073.part.moved(Location((102.2, 0, 0))))


with BuildPart() as extrude075:
    # Sketch062 → Extrude075 (new body)
    with BuildSketch(Plane.YZ):
        Polygon((15, 19.5), (15, -1.5), (38, -1.5), align=None)
    extrude(amount=-EXTRUDE075_DEPTH)


with BuildPart() as extrude075_1:
    # Extrude075 placement: moved
    add(extrude075.part.moved(Location((141.7, 0, 0))))


with BuildPart() as cylinder148:
    # Cylinder148 → Cylinder148 (new body)
    with BuildSketch(Plane(origin=(97.2, 34.1, 79.2), x_dir=(0, 0, -1), z_dir=(1, 0, 0))):
        Circle(CYLINDER148_R)
    extrude(amount=CYLINDER148_DEPTH)


with BuildPart() as cut259:
    # Box → Box (new body)
    with BuildSketch(Plane(origin=(99, 15, -1.5), x_dir=(1, 0, 0), z_dir=(0, 0, 1))):
        with Locations((21, 11.5)):
            Rectangle(BOX_W, BOX_H)
    extrude(amount=BOX_DEPTH)

    # Cut229: cut Cylinder148
    add(cylinder148.part, mode=Mode.SUBTRACT)

    # Cut237: cut Extrude075
    add(extrude075_1.part, mode=Mode.SUBTRACT)

    # Fusion: union Box083, Extrude033, Box077, Extrude074, Cut236, Box082, Cut, Extrude032, Extrude073
    add(box083.part)
    add(extrude033_1.part)
    add(box077.part)
    add(extrude074_1.part)
    add(cut236.part)
    add(box082.part)
    add(cut.part)
    add(extrude032_1.part)
    add(extrude073_1.part)

    # Fusion109: union Extrude069, Extrude078, Extrude071, Extrude068, Extrude072, Extrude070, Extrude077, Extrude076
    add(extrude069_1.part)
    add(extrude078_1.part)
    add(extrude071_1.part)
    add(extrude068_1.part)
    add(extrude072_1.part)
    add(extrude070_1.part)
    add(extrude077_1.part)
    add(extrude076_1.part)

    # Cut238: cut Cylinder108
    add(cylinder108.part, mode=Mode.SUBTRACT)

    # Cut239: cut Cylinder200
    add(cylinder200.part, mode=Mode.SUBTRACT)

    # Fusion110: union Cut241, Cut245, Cut243
    add(cut241_2.part)
    add(cut245_2.part)
    add(cut243_1.part)

    # Cut246: cut Cylinder110
    add(cylinder110.part, mode=Mode.SUBTRACT)

    # Cut247: cut Cylinder198
    add(cylinder198.part, mode=Mode.SUBTRACT)

    # Cut248: cut Cylinder196
    add(cylinder196.part, mode=Mode.SUBTRACT)

    # Cut249: cut Cylinder209
    add(cylinder209.part, mode=Mode.SUBTRACT)

    # Cut250: cut Cylinder210
    add(cylinder210.part, mode=Mode.SUBTRACT)

    # Cut251: cut Cylinder211
    add(cylinder211.part, mode=Mode.SUBTRACT)

    # Cut252: cut Cylinder212
    add(cylinder212.part, mode=Mode.SUBTRACT)

    # Cut253: cut Cylinder184
    add(cylinder184.part, mode=Mode.SUBTRACT)

    # Cut254: cut Cylinder213
    add(cylinder213.part, mode=Mode.SUBTRACT)

    # Cut255: cut Cylinder203
    add(cylinder203.part, mode=Mode.SUBTRACT)

    # Cut256: cut Cylinder182
    add(cylinder182.part, mode=Mode.SUBTRACT)

    # Cut257: cut Cylinder109
    add(cylinder109.part, mode=Mode.SUBTRACT)

    # Cut258: cut Cylinder167
    add(cylinder167.part, mode=Mode.SUBTRACT)

    # Cut259: cut Cylinder168
    add(cylinder168.part, mode=Mode.SUBTRACT)


solid = cut259.part
